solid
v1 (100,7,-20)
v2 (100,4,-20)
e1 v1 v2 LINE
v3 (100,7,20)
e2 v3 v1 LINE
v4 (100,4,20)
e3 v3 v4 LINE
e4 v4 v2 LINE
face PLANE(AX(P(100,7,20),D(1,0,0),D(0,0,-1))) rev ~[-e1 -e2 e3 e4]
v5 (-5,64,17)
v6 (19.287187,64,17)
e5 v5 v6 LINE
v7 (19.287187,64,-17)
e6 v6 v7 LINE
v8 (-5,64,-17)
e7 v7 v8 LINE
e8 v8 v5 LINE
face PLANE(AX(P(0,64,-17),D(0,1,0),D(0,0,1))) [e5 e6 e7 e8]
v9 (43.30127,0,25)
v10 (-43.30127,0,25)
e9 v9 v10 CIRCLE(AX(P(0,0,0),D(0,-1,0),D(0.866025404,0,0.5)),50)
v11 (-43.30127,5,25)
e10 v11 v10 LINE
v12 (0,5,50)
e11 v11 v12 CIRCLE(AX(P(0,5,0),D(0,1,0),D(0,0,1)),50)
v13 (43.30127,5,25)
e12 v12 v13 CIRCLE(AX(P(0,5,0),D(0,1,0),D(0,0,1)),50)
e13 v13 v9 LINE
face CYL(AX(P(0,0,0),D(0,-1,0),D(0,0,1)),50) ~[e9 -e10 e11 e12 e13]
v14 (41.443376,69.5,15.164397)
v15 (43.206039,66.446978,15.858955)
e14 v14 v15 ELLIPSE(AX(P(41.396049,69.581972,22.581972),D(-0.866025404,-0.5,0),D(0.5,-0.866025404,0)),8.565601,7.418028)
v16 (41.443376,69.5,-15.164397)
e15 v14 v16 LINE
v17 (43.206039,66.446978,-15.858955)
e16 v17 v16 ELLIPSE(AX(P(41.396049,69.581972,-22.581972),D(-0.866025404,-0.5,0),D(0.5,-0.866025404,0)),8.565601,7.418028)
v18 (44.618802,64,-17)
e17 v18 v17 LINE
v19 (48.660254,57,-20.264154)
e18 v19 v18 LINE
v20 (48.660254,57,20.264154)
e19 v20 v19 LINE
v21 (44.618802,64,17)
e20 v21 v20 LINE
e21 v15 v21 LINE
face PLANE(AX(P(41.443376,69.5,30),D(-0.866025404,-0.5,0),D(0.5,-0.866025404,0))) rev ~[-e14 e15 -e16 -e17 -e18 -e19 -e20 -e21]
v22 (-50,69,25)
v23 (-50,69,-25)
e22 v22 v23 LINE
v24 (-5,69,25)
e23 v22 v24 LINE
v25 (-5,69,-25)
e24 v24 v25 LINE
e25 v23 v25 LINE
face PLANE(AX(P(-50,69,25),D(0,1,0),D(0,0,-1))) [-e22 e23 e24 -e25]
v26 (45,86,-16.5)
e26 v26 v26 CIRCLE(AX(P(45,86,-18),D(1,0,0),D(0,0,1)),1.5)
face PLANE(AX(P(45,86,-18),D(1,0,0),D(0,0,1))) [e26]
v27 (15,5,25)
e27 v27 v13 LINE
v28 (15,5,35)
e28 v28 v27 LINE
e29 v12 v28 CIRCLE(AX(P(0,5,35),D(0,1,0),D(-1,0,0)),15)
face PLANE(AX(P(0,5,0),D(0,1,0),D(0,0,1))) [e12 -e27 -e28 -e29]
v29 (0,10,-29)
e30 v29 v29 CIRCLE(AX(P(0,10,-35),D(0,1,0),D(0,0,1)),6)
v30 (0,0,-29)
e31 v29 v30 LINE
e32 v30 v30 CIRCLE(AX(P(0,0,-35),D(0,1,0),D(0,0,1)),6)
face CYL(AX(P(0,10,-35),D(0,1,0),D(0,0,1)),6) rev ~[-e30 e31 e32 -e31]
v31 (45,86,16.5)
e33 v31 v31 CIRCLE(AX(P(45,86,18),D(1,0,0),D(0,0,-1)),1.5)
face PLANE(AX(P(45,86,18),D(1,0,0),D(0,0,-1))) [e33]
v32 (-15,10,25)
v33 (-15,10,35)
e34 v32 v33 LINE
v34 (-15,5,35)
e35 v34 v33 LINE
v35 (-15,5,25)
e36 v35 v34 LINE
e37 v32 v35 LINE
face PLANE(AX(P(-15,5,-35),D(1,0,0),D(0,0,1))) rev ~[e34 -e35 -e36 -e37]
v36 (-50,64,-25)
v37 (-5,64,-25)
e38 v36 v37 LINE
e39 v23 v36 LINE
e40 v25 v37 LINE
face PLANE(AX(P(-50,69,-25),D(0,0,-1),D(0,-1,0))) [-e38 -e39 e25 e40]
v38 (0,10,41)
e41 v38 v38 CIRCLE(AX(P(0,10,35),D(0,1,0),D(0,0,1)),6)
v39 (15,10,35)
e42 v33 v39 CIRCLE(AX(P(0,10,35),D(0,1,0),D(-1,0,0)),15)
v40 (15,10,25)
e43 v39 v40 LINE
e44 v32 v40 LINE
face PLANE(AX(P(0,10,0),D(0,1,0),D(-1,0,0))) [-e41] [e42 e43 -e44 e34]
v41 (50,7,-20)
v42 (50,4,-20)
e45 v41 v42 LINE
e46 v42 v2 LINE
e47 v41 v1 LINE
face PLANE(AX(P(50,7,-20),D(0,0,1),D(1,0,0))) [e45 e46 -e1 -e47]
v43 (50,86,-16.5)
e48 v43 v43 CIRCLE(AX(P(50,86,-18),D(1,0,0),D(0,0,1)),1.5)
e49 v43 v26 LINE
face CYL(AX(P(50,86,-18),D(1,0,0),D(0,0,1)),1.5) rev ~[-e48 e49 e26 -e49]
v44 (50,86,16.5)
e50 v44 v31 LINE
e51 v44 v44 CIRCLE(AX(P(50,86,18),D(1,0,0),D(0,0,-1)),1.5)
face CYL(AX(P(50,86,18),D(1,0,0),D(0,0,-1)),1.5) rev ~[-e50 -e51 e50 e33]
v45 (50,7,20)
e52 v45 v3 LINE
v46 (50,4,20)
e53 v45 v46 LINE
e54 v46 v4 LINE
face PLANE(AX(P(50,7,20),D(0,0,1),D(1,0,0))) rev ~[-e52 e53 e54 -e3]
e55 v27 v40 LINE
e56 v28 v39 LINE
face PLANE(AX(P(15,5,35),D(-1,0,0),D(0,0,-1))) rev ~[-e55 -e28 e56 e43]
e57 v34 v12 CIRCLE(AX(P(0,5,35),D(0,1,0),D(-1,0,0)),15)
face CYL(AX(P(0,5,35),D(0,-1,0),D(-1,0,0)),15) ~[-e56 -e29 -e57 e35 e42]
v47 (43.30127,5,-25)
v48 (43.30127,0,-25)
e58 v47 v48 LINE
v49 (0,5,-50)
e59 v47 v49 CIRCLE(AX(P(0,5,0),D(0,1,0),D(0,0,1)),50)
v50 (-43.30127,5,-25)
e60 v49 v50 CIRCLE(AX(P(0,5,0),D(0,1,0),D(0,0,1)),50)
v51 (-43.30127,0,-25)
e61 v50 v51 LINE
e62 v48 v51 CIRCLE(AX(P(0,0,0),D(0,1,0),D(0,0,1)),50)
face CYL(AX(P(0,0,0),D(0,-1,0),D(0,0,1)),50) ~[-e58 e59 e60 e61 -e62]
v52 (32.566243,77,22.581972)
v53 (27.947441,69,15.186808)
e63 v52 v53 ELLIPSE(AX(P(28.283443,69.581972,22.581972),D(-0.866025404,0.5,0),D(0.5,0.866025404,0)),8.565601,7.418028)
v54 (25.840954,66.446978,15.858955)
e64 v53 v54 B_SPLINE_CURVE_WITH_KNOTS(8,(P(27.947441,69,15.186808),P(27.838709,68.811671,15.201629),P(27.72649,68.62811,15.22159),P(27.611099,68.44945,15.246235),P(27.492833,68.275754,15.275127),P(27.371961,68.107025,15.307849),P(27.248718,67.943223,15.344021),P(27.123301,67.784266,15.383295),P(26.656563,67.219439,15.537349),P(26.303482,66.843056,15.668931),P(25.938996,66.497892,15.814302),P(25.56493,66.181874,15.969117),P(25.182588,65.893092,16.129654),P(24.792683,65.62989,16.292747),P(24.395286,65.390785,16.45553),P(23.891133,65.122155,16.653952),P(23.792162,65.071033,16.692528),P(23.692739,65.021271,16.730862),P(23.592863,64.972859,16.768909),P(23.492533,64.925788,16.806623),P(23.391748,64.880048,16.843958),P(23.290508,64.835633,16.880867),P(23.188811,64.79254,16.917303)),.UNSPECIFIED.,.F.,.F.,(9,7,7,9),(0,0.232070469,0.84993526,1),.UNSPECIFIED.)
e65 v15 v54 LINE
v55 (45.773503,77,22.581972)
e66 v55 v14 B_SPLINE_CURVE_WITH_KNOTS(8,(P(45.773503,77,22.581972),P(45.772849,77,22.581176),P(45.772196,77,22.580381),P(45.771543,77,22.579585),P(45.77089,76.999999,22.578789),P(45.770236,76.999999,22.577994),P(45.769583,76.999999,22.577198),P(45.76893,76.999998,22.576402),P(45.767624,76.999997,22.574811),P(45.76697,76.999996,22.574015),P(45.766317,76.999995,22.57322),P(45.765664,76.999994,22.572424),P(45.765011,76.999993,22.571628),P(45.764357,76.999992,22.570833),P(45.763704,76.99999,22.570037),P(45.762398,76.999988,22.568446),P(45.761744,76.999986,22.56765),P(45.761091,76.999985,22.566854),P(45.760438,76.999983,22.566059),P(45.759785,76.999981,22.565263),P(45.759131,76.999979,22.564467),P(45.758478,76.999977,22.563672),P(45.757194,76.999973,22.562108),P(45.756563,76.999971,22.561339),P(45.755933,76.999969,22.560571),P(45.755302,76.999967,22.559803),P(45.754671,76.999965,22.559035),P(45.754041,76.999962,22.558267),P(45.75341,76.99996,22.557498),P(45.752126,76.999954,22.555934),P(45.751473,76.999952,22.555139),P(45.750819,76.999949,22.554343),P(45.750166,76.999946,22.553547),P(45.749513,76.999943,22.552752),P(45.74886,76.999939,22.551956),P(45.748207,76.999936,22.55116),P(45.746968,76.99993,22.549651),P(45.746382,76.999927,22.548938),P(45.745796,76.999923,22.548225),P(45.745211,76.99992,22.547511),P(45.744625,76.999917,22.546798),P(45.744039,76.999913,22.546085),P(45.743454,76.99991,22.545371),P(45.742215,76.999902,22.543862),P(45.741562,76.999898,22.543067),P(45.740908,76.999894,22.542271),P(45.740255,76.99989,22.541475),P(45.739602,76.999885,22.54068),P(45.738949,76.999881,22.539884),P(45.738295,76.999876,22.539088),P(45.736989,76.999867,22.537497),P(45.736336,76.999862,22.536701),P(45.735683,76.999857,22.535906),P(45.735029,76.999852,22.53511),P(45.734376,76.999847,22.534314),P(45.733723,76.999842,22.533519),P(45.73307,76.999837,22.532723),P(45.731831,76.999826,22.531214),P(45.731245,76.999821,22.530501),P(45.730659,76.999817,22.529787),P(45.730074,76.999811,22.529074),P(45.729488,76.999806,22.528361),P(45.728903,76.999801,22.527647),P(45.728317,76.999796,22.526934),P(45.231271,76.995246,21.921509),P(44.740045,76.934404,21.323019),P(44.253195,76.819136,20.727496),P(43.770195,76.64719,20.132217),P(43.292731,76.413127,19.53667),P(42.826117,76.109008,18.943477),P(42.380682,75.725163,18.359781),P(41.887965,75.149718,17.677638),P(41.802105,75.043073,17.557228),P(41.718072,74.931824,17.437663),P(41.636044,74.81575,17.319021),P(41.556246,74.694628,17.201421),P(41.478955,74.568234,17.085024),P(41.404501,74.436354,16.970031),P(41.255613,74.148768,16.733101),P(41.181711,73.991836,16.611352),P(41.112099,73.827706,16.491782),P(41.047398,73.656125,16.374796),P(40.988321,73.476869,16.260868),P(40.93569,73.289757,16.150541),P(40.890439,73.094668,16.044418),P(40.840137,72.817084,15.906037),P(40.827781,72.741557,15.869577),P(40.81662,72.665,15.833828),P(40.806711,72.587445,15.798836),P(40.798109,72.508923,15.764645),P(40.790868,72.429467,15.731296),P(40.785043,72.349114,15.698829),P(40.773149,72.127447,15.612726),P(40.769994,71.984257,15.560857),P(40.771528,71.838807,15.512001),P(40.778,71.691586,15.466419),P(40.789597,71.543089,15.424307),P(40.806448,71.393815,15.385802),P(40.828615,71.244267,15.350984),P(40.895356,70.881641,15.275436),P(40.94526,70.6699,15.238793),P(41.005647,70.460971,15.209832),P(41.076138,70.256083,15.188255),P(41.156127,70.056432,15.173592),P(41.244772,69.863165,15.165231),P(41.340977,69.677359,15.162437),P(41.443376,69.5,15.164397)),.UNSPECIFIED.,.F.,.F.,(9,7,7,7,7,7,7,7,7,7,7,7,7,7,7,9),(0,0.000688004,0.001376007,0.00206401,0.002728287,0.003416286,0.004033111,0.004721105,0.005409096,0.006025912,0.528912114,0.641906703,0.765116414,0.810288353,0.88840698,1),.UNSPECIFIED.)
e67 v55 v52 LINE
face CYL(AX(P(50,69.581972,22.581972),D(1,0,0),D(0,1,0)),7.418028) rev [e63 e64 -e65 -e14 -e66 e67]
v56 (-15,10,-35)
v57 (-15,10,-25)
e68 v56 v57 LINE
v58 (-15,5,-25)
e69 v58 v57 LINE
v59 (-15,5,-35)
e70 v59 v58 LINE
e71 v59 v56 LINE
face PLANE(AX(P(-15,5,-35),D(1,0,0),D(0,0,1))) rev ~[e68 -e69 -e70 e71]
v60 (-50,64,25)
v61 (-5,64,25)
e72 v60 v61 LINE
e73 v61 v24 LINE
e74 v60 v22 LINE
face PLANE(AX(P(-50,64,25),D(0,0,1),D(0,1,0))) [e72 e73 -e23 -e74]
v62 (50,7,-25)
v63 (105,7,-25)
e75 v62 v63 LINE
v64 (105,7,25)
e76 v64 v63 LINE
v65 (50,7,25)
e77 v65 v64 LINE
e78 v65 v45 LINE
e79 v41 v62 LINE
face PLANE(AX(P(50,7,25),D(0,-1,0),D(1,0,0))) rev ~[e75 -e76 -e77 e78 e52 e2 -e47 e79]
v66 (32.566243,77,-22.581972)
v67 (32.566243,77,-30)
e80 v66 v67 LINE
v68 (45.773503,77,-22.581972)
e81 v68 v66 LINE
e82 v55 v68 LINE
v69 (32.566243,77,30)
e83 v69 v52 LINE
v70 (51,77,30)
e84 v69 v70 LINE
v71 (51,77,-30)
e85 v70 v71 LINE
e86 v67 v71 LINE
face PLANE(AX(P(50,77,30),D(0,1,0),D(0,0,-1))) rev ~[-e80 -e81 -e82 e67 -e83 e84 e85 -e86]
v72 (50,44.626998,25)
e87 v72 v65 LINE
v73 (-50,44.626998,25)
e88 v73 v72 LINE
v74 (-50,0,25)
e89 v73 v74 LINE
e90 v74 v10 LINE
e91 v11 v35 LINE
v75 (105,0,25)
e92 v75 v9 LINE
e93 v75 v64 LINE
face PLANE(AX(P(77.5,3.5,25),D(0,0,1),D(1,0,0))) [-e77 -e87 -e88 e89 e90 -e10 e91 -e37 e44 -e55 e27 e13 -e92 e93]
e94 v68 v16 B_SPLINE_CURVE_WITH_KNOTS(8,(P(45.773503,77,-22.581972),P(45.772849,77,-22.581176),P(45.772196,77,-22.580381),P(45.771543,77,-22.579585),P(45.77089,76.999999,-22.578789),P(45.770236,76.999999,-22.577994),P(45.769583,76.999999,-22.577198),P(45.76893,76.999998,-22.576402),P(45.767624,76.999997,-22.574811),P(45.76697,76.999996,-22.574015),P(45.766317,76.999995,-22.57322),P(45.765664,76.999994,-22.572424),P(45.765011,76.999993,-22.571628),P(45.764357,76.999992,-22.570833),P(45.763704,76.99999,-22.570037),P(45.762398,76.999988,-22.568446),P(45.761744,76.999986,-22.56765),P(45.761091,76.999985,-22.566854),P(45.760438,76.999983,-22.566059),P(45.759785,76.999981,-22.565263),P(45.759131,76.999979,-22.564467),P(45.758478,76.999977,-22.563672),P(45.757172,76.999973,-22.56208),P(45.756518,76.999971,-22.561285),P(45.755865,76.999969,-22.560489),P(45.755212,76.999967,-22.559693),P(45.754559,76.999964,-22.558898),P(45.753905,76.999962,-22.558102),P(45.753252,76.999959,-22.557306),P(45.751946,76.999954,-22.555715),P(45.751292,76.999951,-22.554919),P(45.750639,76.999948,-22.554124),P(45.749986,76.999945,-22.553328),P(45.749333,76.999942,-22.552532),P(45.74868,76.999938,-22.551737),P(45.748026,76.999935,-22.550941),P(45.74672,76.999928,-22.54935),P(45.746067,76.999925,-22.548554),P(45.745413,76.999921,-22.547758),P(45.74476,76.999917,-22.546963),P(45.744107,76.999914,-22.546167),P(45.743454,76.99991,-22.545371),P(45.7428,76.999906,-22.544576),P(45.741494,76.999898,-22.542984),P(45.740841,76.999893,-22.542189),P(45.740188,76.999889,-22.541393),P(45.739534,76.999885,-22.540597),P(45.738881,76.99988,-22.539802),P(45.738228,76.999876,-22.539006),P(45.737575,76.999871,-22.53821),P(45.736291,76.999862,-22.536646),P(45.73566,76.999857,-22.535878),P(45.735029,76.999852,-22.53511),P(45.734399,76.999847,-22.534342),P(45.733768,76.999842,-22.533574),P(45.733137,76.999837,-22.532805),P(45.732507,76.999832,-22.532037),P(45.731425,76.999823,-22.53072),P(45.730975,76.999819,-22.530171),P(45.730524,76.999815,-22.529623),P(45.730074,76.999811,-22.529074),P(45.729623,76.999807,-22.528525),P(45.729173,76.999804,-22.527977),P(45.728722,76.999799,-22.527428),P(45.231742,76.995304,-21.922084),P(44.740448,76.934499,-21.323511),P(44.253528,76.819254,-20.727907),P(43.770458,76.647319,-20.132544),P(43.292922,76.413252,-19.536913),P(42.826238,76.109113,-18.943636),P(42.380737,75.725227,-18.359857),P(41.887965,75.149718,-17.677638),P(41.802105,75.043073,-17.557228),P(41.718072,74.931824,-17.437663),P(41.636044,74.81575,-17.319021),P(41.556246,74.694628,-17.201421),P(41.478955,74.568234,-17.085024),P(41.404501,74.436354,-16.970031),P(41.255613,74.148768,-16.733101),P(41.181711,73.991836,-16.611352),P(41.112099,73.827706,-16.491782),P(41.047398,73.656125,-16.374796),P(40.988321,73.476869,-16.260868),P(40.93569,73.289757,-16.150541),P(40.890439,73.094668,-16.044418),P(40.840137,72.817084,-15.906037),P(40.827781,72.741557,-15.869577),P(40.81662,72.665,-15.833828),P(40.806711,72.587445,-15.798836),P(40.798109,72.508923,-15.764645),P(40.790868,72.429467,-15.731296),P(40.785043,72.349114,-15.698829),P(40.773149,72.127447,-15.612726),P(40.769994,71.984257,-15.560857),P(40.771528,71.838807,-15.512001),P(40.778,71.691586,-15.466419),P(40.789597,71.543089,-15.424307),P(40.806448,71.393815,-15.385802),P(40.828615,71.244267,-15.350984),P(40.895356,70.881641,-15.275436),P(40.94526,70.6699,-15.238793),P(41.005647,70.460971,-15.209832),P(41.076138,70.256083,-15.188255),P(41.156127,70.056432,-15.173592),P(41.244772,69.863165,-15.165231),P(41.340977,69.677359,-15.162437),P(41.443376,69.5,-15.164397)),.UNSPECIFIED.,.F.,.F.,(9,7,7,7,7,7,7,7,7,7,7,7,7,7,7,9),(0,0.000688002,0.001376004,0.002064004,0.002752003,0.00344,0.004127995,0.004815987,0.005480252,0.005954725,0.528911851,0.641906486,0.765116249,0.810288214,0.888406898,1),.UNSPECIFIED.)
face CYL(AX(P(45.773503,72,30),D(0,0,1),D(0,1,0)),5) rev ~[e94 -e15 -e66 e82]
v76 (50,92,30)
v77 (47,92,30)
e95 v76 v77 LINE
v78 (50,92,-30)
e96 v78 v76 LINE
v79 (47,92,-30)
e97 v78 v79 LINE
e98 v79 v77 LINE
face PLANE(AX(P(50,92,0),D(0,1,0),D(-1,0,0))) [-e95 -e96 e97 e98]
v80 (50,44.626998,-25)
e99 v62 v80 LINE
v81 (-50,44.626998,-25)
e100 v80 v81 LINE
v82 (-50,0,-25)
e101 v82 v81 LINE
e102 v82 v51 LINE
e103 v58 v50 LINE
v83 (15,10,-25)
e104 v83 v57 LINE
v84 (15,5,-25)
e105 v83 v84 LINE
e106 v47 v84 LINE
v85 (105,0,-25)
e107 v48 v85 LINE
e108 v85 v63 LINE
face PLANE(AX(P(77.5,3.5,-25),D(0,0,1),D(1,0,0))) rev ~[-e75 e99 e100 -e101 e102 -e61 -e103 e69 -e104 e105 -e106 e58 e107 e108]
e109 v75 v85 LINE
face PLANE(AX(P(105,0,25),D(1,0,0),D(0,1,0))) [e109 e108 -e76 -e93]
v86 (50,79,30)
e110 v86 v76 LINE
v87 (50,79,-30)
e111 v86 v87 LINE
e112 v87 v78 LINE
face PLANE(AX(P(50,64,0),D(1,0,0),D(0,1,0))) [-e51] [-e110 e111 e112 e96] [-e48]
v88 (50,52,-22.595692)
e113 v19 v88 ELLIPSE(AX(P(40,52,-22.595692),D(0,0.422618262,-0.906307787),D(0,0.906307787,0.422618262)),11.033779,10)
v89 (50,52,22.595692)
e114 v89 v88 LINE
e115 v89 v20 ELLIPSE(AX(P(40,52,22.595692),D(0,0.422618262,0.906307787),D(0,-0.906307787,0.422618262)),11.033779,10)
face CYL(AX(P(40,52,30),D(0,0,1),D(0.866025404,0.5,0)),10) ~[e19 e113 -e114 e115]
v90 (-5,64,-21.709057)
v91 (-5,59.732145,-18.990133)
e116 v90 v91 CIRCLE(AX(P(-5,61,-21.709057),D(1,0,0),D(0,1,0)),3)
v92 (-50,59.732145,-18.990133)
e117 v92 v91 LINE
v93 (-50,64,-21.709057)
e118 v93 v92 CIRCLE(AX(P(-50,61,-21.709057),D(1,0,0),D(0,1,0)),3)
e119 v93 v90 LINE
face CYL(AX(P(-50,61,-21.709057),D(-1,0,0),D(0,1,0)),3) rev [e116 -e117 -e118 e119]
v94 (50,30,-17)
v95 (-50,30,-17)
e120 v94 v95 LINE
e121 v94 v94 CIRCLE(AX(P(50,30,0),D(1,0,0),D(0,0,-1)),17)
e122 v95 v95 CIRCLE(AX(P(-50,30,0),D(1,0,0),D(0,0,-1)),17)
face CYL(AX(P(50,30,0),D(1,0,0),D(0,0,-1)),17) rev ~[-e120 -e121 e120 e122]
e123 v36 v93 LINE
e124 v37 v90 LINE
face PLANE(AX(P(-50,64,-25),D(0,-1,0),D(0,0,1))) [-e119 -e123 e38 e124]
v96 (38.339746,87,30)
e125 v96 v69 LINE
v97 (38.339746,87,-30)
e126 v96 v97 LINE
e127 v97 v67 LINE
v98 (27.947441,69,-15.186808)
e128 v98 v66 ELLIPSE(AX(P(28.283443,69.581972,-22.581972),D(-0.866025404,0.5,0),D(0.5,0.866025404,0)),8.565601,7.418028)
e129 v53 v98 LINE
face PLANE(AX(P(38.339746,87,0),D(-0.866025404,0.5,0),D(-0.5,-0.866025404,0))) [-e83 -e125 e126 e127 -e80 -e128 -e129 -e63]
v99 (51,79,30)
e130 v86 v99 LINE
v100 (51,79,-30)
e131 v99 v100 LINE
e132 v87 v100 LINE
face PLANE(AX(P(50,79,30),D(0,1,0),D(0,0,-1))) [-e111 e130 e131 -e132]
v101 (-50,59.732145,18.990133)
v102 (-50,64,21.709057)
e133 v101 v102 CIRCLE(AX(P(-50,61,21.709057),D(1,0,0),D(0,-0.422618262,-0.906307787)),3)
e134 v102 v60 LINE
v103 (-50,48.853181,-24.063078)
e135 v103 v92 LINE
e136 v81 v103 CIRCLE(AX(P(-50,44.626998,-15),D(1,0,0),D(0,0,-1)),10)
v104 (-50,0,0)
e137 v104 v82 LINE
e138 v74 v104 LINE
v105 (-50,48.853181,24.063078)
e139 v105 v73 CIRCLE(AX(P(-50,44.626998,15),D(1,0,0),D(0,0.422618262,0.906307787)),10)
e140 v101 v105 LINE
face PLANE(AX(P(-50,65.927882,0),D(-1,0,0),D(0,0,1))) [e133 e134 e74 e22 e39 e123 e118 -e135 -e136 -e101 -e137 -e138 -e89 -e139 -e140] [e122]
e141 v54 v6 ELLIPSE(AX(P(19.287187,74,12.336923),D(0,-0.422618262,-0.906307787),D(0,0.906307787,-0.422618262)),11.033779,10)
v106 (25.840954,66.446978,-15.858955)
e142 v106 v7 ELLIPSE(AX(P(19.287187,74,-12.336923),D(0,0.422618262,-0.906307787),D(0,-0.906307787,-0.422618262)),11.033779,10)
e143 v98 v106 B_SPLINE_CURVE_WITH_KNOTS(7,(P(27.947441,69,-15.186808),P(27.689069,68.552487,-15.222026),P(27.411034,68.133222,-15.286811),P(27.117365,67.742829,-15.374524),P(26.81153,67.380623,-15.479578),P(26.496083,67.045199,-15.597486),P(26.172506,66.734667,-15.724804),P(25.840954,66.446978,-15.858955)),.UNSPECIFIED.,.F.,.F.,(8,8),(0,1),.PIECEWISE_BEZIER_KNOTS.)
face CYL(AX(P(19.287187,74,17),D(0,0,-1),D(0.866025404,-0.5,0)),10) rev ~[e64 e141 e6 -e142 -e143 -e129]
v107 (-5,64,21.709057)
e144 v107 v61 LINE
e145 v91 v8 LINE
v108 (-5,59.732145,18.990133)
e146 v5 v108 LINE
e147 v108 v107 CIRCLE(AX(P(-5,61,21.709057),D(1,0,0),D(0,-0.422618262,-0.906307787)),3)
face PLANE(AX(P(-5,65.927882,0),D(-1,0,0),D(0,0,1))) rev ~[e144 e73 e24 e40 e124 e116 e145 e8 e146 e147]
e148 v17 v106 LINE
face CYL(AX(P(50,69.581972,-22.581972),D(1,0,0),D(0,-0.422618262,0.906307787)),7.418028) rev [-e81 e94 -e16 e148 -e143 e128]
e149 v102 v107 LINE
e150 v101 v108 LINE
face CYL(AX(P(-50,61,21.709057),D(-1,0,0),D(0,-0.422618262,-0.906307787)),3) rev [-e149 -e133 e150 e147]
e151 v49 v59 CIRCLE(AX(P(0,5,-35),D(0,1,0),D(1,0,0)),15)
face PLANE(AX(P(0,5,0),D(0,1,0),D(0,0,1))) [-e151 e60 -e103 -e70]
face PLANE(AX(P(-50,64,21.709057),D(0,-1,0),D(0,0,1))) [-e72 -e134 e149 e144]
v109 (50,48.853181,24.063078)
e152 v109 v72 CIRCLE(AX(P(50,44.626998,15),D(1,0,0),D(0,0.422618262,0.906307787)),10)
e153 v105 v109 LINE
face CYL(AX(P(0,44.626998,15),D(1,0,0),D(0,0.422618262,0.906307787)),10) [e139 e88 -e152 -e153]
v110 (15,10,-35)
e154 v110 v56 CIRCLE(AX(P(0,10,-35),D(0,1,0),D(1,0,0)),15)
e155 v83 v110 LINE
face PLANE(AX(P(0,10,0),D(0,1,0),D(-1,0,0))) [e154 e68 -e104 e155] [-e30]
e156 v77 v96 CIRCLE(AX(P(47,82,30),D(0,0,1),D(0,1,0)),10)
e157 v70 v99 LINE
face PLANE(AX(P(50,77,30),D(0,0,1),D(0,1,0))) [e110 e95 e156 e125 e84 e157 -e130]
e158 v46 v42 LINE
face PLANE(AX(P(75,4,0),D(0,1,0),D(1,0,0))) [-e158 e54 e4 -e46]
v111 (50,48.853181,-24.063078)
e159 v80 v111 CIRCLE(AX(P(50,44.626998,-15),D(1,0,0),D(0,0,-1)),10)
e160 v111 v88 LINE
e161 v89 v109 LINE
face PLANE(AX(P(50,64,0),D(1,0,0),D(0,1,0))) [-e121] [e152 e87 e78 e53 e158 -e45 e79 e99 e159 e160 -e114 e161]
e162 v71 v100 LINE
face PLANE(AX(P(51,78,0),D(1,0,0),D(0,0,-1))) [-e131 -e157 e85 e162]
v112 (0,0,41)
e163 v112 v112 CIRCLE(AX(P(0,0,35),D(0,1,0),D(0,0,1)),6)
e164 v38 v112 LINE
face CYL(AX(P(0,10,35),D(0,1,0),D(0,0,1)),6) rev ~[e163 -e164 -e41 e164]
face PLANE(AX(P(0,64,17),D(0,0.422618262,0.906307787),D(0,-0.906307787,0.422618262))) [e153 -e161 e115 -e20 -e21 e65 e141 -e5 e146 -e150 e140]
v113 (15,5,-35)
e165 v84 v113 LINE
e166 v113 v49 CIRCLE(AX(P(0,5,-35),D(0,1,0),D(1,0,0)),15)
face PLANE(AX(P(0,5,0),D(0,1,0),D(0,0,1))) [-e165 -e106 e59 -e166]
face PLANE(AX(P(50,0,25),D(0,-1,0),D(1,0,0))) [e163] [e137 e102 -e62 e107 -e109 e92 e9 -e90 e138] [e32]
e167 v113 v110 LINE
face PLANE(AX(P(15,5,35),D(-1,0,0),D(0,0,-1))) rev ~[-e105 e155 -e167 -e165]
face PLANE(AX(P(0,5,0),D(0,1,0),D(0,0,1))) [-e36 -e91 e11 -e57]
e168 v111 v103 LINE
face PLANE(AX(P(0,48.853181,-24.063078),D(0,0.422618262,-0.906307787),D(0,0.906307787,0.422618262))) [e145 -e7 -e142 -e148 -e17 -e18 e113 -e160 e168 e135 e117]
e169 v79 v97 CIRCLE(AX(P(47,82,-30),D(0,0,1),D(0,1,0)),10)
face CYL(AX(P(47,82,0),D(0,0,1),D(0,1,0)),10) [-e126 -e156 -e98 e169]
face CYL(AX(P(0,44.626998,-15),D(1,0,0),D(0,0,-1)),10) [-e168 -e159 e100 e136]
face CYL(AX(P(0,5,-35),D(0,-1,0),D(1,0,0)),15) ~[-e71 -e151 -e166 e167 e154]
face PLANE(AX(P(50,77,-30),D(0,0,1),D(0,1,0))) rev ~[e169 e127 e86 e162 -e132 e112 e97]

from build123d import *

# Parameters (mm, degrees)
SKETCH17_R          = 50
BOSS_EXTRUDE9_DEPTH = 5
BOSS_EXTRUDE1_DEPTH = 5
SKETCH3_R           = 6
CUT_EXTRUDE1_DEPTH  = 11
BOSS_EXTRUDE3_DEPTH = 50
BOSS_EXTRUDE7_DEPTH = 45
SKETCH6_W           = 55
SKETCH6_H           = 7
BOSS_EXTRUDE4_DEPTH = 50
BOSS_EXTRUDE5_DEPTH = 30
CUT_EXTRUDE2_DEPTH  = 81
CUT_EXTRUDE4_REACH  = 102
SKETCH12_W          = 60
SKETCH12_H          = 2
BOSS_EXTRUDE6_DEPTH = 1
SKETCH14_R          = 17
CUT_EXTRUDE7_DEPTH  = 101
SKETCH15_R          = 1.5
CUT_EXTRUDE8_DEPTH  = 5
SKETCH18_W          = 50
SKETCH18_H          = 40
CUT_EXTRUDE9_DEPTH  = 3
FILLET1_R           = 10


with BuildPart() as part:
    # Sketch17 → Boss-Extrude9 (new body)
    with BuildSketch(Plane(origin=(0, 0, 0), x_dir=(1, 0, 0), z_dir=(0, 1, 0))):
        with Locations(Location((0, 0, 0), (0, 0, 270))):  # turned: the seam where the file's is
            Circle(SKETCH17_R)
    extrude(amount=BOSS_EXTRUDE9_DEPTH)

    # Sketch2 → Boss-Extrude1 (add)
    with BuildSketch(Plane.XZ.offset(-5)):
        with BuildLine():
            Line((-15, -35), (-15, 35))
            ThreePointArc((-15, 35), (0, 50), (15, 35))
            Line((15, 35), (15, -35))
            ThreePointArc((15, -35), (0, -50), (-15, -35))
        make_face()
    extrude(amount=-BOSS_EXTRUDE1_DEPTH)

    # Sketch3 → Cut-Extrude1 (cut, through all)
    with BuildSketch(Plane(origin=(0, 10, 0), x_dir=(1, 0, 0), z_dir=(0, 1, 0))):
        with Locations(Location((0, 35, 0), (0, 0, 270))):  # turned: the seam where the file's is
            Circle(SKETCH3_R)
        with Locations(Location((0, -35, 0), (0, 0, 270))):  # turned: the seam where the file's is
            Circle(SKETCH3_R)
    extrude(amount=-CUT_EXTRUDE1_DEPTH, mode=Mode.SUBTRACT)

    # Sketch5 → Boss-Extrude3 (add, symmetric)
    with BuildSketch(Plane(origin=(0, 0, 0), x_dir=(0, 0, -1), z_dir=(1, 0, 0))):
        with BuildLine():
            Line((17, 64), (-17, 64))
            Line((-17, 64), (-24.06307787, 48.853180627))
            ThreePointArc((-24.06307787, 48.853180627), (-24.762960071, 46.791394149), (-25, 44.626998009))
            Line((-25, 44.626998009), (-25, 0))
            Line((-25, 0), (25, 0))
            Line((25, 0), (25, 44.626998009))
            ThreePointArc((25, 44.626998009), (24.762960071, 46.791394149), (24.06307787, 48.853180627))
            Line((24.06307787, 48.853180627), (17, 64))
        make_face()
    extrude(amount=BOSS_EXTRUDE3_DEPTH, both=True)

    # Sketch4 → Boss-Extrude7 (add)
    with BuildSketch(Plane(origin=(-50, 0, 0), x_dir=(0, 0, -1), z_dir=(1, 0, 0))):
        with BuildLine():
            Line((-17, 64), (-18.99013337, 59.732145215))
            ThreePointArc((-18.99013337, 59.732145215), (-19.178882394, 62.611898825), (-21.709056731, 64))
            Line((-21.709056731, 64), (-25, 64))
            Line((-25, 64), (-25, 69))
            Line((-25, 69), (25, 69))
            Line((25, 69), (25, 64))
            Line((25, 64), (21.709056731, 64))
            ThreePointArc((21.709056731, 64), (19.178882394, 62.611898825), (18.99013337, 59.732145215))
            Line((18.99013337, 59.732145215), (17, 64))
            Line((17, 64), (-17, 64))
        make_face()
    extrude(amount=BOSS_EXTRUDE7_DEPTH)

    # Sketch6 → Boss-Extrude4 (add)
    with BuildSketch(Plane.XY.offset(25)):
        with Locations((77.5, 3.5)):
            Rectangle(SKETCH6_W, SKETCH6_H)
    extrude(amount=-BOSS_EXTRUDE4_DEPTH)

    # Sketch7 → Boss-Extrude5 (add, symmetric)
    with BuildSketch(Plane.XY):
        with BuildLine():
            Line((50, 64), (50, 92))
            Line((50, 92), (47, 92))
            ThreePointArc((47, 92), (42, 90.660254038), (38.339745962, 87))
            Line((38.339745962, 87), (25.060689771, 64))
            Line((25.060689771, 64), (50, 64))
        make_face()
    extrude(amount=BOSS_EXTRUDE5_DEPTH, both=True)

    # Sketch8 → Cut-Extrude2 (cut, through all)
    with BuildSketch(Plane.XY.offset(30)):
        with BuildLine():
            Line((50, 52), (50, 77))
            Line((50, 77), (45.773502692, 77))
            ThreePointArc((45.773502692, 77), (41.443375673, 74.5), (41.443375673, 69.5))
            Line((41.443375673, 69.5), (48.660254038, 57))
            ThreePointArc((48.660254038, 57), (49.659258263, 54.588190451), (50, 52))
        make_face()
    extrude(amount=-CUT_EXTRUDE2_DEPTH, mode=Mode.SUBTRACT)

    # Sketch10 → Cut-Extrude4 (cut, up to next)
    with BuildSketch(Plane(origin=(50, 0, 0), x_dir=(0, 0, -1), z_dir=(1, 0, 0)), mode=Mode.PRIVATE) as cut_extrude4_sk1:
        with BuildLine():
            Line((30, 77), (30, 36.121410033))
            Line((30, 36.121410033), (15.858955464, 66.446977905))
            ThreePointArc((15.858955464, 66.446977905), (16.325670644, 73.56767554), (22.581972002, 77))
            Line((22.581972002, 77), (30, 77))
        make_face()
    cut_extrude4_tool1 = extrude(cut_extrude4_sk1.sketch, amount=-CUT_EXTRUDE4_REACH, mode=Mode.PRIVATE) & part.part
    add(cut_extrude4_tool1.solids().sort_by_distance((50, 62.410473, -24.403719))[0], mode=Mode.SUBTRACT)
    # Sketch10 → Cut-Extrude4 (cut, up to next)
    with BuildSketch(Plane(origin=(50, 0, 0), x_dir=(0, 0, -1), z_dir=(1, 0, 0)), mode=Mode.PRIVATE) as cut_extrude4_sk2:
        with BuildLine():
            Line((-30, 77), (-22.581972002, 77))
            ThreePointArc((-22.581972002, 77), (-16.325670644, 73.56767554), (-15.858955464, 66.446977905))
            Line((-15.858955464, 66.446977905), (-30, 36.121410033))
            Line((-30, 36.121410033), (-30, 77))
        make_face()
    cut_extrude4_tool2 = extrude(cut_extrude4_sk2.sketch, amount=-CUT_EXTRUDE4_REACH, mode=Mode.PRIVATE) & part.part
    add(cut_extrude4_tool2.solids().sort_by_distance((50, 62.410473, 24.403719))[0], mode=Mode.SUBTRACT)

    # Sketch12 → Boss-Extrude6 (add)
    with BuildSketch(Plane(origin=(50, 0, 0), x_dir=(0, 0, -1), z_dir=(1, 0, 0))):
        with Locations((0, 78)):
            Rectangle(SKETCH12_W, SKETCH12_H)
    extrude(amount=BOSS_EXTRUDE6_DEPTH)

    # Sketch14 → Cut-Extrude7 (cut, through all)
    with BuildSketch(Plane(origin=(50, 0, 0), x_dir=(0, 0, -1), z_dir=(1, 0, 0))):
        with Locations((0, 30)):
            Circle(SKETCH14_R)
    extrude(amount=-CUT_EXTRUDE7_DEPTH, mode=Mode.SUBTRACT)

    # Sketch15 → Cut-Extrude8 (cut)
    with BuildSketch(Plane(origin=(50, 0, 0), x_dir=(0, 0, -1), z_dir=(1, 0, 0))):
        with Locations((-18, 86)):
            Circle(SKETCH15_R)
        with Locations(Location((18, 86, 0), (0, 0, 180))):  # turned: the seam where the file's is
            Circle(SKETCH15_R)
    extrude(amount=-CUT_EXTRUDE8_DEPTH, mode=Mode.SUBTRACT)

    # Sketch18 → Cut-Extrude9 (cut)
    with BuildSketch(Plane(origin=(0, 7, 0), x_dir=(1, 0, 0), z_dir=(0, 1, 0))):
        with Locations((75, 0)):
            Rectangle(SKETCH18_W, SKETCH18_H)
    extrude(amount=-CUT_EXTRUDE9_DEPTH, mode=Mode.SUBTRACT)

    # Fillet1
    fillet1_edges = [part.edges().sort_by_distance(p)[0] for p in [
        (25.060689771, 64, 0),
    ]]
    fillet(fillet1_edges, radius=FILLET1_R)


solid = part.part
